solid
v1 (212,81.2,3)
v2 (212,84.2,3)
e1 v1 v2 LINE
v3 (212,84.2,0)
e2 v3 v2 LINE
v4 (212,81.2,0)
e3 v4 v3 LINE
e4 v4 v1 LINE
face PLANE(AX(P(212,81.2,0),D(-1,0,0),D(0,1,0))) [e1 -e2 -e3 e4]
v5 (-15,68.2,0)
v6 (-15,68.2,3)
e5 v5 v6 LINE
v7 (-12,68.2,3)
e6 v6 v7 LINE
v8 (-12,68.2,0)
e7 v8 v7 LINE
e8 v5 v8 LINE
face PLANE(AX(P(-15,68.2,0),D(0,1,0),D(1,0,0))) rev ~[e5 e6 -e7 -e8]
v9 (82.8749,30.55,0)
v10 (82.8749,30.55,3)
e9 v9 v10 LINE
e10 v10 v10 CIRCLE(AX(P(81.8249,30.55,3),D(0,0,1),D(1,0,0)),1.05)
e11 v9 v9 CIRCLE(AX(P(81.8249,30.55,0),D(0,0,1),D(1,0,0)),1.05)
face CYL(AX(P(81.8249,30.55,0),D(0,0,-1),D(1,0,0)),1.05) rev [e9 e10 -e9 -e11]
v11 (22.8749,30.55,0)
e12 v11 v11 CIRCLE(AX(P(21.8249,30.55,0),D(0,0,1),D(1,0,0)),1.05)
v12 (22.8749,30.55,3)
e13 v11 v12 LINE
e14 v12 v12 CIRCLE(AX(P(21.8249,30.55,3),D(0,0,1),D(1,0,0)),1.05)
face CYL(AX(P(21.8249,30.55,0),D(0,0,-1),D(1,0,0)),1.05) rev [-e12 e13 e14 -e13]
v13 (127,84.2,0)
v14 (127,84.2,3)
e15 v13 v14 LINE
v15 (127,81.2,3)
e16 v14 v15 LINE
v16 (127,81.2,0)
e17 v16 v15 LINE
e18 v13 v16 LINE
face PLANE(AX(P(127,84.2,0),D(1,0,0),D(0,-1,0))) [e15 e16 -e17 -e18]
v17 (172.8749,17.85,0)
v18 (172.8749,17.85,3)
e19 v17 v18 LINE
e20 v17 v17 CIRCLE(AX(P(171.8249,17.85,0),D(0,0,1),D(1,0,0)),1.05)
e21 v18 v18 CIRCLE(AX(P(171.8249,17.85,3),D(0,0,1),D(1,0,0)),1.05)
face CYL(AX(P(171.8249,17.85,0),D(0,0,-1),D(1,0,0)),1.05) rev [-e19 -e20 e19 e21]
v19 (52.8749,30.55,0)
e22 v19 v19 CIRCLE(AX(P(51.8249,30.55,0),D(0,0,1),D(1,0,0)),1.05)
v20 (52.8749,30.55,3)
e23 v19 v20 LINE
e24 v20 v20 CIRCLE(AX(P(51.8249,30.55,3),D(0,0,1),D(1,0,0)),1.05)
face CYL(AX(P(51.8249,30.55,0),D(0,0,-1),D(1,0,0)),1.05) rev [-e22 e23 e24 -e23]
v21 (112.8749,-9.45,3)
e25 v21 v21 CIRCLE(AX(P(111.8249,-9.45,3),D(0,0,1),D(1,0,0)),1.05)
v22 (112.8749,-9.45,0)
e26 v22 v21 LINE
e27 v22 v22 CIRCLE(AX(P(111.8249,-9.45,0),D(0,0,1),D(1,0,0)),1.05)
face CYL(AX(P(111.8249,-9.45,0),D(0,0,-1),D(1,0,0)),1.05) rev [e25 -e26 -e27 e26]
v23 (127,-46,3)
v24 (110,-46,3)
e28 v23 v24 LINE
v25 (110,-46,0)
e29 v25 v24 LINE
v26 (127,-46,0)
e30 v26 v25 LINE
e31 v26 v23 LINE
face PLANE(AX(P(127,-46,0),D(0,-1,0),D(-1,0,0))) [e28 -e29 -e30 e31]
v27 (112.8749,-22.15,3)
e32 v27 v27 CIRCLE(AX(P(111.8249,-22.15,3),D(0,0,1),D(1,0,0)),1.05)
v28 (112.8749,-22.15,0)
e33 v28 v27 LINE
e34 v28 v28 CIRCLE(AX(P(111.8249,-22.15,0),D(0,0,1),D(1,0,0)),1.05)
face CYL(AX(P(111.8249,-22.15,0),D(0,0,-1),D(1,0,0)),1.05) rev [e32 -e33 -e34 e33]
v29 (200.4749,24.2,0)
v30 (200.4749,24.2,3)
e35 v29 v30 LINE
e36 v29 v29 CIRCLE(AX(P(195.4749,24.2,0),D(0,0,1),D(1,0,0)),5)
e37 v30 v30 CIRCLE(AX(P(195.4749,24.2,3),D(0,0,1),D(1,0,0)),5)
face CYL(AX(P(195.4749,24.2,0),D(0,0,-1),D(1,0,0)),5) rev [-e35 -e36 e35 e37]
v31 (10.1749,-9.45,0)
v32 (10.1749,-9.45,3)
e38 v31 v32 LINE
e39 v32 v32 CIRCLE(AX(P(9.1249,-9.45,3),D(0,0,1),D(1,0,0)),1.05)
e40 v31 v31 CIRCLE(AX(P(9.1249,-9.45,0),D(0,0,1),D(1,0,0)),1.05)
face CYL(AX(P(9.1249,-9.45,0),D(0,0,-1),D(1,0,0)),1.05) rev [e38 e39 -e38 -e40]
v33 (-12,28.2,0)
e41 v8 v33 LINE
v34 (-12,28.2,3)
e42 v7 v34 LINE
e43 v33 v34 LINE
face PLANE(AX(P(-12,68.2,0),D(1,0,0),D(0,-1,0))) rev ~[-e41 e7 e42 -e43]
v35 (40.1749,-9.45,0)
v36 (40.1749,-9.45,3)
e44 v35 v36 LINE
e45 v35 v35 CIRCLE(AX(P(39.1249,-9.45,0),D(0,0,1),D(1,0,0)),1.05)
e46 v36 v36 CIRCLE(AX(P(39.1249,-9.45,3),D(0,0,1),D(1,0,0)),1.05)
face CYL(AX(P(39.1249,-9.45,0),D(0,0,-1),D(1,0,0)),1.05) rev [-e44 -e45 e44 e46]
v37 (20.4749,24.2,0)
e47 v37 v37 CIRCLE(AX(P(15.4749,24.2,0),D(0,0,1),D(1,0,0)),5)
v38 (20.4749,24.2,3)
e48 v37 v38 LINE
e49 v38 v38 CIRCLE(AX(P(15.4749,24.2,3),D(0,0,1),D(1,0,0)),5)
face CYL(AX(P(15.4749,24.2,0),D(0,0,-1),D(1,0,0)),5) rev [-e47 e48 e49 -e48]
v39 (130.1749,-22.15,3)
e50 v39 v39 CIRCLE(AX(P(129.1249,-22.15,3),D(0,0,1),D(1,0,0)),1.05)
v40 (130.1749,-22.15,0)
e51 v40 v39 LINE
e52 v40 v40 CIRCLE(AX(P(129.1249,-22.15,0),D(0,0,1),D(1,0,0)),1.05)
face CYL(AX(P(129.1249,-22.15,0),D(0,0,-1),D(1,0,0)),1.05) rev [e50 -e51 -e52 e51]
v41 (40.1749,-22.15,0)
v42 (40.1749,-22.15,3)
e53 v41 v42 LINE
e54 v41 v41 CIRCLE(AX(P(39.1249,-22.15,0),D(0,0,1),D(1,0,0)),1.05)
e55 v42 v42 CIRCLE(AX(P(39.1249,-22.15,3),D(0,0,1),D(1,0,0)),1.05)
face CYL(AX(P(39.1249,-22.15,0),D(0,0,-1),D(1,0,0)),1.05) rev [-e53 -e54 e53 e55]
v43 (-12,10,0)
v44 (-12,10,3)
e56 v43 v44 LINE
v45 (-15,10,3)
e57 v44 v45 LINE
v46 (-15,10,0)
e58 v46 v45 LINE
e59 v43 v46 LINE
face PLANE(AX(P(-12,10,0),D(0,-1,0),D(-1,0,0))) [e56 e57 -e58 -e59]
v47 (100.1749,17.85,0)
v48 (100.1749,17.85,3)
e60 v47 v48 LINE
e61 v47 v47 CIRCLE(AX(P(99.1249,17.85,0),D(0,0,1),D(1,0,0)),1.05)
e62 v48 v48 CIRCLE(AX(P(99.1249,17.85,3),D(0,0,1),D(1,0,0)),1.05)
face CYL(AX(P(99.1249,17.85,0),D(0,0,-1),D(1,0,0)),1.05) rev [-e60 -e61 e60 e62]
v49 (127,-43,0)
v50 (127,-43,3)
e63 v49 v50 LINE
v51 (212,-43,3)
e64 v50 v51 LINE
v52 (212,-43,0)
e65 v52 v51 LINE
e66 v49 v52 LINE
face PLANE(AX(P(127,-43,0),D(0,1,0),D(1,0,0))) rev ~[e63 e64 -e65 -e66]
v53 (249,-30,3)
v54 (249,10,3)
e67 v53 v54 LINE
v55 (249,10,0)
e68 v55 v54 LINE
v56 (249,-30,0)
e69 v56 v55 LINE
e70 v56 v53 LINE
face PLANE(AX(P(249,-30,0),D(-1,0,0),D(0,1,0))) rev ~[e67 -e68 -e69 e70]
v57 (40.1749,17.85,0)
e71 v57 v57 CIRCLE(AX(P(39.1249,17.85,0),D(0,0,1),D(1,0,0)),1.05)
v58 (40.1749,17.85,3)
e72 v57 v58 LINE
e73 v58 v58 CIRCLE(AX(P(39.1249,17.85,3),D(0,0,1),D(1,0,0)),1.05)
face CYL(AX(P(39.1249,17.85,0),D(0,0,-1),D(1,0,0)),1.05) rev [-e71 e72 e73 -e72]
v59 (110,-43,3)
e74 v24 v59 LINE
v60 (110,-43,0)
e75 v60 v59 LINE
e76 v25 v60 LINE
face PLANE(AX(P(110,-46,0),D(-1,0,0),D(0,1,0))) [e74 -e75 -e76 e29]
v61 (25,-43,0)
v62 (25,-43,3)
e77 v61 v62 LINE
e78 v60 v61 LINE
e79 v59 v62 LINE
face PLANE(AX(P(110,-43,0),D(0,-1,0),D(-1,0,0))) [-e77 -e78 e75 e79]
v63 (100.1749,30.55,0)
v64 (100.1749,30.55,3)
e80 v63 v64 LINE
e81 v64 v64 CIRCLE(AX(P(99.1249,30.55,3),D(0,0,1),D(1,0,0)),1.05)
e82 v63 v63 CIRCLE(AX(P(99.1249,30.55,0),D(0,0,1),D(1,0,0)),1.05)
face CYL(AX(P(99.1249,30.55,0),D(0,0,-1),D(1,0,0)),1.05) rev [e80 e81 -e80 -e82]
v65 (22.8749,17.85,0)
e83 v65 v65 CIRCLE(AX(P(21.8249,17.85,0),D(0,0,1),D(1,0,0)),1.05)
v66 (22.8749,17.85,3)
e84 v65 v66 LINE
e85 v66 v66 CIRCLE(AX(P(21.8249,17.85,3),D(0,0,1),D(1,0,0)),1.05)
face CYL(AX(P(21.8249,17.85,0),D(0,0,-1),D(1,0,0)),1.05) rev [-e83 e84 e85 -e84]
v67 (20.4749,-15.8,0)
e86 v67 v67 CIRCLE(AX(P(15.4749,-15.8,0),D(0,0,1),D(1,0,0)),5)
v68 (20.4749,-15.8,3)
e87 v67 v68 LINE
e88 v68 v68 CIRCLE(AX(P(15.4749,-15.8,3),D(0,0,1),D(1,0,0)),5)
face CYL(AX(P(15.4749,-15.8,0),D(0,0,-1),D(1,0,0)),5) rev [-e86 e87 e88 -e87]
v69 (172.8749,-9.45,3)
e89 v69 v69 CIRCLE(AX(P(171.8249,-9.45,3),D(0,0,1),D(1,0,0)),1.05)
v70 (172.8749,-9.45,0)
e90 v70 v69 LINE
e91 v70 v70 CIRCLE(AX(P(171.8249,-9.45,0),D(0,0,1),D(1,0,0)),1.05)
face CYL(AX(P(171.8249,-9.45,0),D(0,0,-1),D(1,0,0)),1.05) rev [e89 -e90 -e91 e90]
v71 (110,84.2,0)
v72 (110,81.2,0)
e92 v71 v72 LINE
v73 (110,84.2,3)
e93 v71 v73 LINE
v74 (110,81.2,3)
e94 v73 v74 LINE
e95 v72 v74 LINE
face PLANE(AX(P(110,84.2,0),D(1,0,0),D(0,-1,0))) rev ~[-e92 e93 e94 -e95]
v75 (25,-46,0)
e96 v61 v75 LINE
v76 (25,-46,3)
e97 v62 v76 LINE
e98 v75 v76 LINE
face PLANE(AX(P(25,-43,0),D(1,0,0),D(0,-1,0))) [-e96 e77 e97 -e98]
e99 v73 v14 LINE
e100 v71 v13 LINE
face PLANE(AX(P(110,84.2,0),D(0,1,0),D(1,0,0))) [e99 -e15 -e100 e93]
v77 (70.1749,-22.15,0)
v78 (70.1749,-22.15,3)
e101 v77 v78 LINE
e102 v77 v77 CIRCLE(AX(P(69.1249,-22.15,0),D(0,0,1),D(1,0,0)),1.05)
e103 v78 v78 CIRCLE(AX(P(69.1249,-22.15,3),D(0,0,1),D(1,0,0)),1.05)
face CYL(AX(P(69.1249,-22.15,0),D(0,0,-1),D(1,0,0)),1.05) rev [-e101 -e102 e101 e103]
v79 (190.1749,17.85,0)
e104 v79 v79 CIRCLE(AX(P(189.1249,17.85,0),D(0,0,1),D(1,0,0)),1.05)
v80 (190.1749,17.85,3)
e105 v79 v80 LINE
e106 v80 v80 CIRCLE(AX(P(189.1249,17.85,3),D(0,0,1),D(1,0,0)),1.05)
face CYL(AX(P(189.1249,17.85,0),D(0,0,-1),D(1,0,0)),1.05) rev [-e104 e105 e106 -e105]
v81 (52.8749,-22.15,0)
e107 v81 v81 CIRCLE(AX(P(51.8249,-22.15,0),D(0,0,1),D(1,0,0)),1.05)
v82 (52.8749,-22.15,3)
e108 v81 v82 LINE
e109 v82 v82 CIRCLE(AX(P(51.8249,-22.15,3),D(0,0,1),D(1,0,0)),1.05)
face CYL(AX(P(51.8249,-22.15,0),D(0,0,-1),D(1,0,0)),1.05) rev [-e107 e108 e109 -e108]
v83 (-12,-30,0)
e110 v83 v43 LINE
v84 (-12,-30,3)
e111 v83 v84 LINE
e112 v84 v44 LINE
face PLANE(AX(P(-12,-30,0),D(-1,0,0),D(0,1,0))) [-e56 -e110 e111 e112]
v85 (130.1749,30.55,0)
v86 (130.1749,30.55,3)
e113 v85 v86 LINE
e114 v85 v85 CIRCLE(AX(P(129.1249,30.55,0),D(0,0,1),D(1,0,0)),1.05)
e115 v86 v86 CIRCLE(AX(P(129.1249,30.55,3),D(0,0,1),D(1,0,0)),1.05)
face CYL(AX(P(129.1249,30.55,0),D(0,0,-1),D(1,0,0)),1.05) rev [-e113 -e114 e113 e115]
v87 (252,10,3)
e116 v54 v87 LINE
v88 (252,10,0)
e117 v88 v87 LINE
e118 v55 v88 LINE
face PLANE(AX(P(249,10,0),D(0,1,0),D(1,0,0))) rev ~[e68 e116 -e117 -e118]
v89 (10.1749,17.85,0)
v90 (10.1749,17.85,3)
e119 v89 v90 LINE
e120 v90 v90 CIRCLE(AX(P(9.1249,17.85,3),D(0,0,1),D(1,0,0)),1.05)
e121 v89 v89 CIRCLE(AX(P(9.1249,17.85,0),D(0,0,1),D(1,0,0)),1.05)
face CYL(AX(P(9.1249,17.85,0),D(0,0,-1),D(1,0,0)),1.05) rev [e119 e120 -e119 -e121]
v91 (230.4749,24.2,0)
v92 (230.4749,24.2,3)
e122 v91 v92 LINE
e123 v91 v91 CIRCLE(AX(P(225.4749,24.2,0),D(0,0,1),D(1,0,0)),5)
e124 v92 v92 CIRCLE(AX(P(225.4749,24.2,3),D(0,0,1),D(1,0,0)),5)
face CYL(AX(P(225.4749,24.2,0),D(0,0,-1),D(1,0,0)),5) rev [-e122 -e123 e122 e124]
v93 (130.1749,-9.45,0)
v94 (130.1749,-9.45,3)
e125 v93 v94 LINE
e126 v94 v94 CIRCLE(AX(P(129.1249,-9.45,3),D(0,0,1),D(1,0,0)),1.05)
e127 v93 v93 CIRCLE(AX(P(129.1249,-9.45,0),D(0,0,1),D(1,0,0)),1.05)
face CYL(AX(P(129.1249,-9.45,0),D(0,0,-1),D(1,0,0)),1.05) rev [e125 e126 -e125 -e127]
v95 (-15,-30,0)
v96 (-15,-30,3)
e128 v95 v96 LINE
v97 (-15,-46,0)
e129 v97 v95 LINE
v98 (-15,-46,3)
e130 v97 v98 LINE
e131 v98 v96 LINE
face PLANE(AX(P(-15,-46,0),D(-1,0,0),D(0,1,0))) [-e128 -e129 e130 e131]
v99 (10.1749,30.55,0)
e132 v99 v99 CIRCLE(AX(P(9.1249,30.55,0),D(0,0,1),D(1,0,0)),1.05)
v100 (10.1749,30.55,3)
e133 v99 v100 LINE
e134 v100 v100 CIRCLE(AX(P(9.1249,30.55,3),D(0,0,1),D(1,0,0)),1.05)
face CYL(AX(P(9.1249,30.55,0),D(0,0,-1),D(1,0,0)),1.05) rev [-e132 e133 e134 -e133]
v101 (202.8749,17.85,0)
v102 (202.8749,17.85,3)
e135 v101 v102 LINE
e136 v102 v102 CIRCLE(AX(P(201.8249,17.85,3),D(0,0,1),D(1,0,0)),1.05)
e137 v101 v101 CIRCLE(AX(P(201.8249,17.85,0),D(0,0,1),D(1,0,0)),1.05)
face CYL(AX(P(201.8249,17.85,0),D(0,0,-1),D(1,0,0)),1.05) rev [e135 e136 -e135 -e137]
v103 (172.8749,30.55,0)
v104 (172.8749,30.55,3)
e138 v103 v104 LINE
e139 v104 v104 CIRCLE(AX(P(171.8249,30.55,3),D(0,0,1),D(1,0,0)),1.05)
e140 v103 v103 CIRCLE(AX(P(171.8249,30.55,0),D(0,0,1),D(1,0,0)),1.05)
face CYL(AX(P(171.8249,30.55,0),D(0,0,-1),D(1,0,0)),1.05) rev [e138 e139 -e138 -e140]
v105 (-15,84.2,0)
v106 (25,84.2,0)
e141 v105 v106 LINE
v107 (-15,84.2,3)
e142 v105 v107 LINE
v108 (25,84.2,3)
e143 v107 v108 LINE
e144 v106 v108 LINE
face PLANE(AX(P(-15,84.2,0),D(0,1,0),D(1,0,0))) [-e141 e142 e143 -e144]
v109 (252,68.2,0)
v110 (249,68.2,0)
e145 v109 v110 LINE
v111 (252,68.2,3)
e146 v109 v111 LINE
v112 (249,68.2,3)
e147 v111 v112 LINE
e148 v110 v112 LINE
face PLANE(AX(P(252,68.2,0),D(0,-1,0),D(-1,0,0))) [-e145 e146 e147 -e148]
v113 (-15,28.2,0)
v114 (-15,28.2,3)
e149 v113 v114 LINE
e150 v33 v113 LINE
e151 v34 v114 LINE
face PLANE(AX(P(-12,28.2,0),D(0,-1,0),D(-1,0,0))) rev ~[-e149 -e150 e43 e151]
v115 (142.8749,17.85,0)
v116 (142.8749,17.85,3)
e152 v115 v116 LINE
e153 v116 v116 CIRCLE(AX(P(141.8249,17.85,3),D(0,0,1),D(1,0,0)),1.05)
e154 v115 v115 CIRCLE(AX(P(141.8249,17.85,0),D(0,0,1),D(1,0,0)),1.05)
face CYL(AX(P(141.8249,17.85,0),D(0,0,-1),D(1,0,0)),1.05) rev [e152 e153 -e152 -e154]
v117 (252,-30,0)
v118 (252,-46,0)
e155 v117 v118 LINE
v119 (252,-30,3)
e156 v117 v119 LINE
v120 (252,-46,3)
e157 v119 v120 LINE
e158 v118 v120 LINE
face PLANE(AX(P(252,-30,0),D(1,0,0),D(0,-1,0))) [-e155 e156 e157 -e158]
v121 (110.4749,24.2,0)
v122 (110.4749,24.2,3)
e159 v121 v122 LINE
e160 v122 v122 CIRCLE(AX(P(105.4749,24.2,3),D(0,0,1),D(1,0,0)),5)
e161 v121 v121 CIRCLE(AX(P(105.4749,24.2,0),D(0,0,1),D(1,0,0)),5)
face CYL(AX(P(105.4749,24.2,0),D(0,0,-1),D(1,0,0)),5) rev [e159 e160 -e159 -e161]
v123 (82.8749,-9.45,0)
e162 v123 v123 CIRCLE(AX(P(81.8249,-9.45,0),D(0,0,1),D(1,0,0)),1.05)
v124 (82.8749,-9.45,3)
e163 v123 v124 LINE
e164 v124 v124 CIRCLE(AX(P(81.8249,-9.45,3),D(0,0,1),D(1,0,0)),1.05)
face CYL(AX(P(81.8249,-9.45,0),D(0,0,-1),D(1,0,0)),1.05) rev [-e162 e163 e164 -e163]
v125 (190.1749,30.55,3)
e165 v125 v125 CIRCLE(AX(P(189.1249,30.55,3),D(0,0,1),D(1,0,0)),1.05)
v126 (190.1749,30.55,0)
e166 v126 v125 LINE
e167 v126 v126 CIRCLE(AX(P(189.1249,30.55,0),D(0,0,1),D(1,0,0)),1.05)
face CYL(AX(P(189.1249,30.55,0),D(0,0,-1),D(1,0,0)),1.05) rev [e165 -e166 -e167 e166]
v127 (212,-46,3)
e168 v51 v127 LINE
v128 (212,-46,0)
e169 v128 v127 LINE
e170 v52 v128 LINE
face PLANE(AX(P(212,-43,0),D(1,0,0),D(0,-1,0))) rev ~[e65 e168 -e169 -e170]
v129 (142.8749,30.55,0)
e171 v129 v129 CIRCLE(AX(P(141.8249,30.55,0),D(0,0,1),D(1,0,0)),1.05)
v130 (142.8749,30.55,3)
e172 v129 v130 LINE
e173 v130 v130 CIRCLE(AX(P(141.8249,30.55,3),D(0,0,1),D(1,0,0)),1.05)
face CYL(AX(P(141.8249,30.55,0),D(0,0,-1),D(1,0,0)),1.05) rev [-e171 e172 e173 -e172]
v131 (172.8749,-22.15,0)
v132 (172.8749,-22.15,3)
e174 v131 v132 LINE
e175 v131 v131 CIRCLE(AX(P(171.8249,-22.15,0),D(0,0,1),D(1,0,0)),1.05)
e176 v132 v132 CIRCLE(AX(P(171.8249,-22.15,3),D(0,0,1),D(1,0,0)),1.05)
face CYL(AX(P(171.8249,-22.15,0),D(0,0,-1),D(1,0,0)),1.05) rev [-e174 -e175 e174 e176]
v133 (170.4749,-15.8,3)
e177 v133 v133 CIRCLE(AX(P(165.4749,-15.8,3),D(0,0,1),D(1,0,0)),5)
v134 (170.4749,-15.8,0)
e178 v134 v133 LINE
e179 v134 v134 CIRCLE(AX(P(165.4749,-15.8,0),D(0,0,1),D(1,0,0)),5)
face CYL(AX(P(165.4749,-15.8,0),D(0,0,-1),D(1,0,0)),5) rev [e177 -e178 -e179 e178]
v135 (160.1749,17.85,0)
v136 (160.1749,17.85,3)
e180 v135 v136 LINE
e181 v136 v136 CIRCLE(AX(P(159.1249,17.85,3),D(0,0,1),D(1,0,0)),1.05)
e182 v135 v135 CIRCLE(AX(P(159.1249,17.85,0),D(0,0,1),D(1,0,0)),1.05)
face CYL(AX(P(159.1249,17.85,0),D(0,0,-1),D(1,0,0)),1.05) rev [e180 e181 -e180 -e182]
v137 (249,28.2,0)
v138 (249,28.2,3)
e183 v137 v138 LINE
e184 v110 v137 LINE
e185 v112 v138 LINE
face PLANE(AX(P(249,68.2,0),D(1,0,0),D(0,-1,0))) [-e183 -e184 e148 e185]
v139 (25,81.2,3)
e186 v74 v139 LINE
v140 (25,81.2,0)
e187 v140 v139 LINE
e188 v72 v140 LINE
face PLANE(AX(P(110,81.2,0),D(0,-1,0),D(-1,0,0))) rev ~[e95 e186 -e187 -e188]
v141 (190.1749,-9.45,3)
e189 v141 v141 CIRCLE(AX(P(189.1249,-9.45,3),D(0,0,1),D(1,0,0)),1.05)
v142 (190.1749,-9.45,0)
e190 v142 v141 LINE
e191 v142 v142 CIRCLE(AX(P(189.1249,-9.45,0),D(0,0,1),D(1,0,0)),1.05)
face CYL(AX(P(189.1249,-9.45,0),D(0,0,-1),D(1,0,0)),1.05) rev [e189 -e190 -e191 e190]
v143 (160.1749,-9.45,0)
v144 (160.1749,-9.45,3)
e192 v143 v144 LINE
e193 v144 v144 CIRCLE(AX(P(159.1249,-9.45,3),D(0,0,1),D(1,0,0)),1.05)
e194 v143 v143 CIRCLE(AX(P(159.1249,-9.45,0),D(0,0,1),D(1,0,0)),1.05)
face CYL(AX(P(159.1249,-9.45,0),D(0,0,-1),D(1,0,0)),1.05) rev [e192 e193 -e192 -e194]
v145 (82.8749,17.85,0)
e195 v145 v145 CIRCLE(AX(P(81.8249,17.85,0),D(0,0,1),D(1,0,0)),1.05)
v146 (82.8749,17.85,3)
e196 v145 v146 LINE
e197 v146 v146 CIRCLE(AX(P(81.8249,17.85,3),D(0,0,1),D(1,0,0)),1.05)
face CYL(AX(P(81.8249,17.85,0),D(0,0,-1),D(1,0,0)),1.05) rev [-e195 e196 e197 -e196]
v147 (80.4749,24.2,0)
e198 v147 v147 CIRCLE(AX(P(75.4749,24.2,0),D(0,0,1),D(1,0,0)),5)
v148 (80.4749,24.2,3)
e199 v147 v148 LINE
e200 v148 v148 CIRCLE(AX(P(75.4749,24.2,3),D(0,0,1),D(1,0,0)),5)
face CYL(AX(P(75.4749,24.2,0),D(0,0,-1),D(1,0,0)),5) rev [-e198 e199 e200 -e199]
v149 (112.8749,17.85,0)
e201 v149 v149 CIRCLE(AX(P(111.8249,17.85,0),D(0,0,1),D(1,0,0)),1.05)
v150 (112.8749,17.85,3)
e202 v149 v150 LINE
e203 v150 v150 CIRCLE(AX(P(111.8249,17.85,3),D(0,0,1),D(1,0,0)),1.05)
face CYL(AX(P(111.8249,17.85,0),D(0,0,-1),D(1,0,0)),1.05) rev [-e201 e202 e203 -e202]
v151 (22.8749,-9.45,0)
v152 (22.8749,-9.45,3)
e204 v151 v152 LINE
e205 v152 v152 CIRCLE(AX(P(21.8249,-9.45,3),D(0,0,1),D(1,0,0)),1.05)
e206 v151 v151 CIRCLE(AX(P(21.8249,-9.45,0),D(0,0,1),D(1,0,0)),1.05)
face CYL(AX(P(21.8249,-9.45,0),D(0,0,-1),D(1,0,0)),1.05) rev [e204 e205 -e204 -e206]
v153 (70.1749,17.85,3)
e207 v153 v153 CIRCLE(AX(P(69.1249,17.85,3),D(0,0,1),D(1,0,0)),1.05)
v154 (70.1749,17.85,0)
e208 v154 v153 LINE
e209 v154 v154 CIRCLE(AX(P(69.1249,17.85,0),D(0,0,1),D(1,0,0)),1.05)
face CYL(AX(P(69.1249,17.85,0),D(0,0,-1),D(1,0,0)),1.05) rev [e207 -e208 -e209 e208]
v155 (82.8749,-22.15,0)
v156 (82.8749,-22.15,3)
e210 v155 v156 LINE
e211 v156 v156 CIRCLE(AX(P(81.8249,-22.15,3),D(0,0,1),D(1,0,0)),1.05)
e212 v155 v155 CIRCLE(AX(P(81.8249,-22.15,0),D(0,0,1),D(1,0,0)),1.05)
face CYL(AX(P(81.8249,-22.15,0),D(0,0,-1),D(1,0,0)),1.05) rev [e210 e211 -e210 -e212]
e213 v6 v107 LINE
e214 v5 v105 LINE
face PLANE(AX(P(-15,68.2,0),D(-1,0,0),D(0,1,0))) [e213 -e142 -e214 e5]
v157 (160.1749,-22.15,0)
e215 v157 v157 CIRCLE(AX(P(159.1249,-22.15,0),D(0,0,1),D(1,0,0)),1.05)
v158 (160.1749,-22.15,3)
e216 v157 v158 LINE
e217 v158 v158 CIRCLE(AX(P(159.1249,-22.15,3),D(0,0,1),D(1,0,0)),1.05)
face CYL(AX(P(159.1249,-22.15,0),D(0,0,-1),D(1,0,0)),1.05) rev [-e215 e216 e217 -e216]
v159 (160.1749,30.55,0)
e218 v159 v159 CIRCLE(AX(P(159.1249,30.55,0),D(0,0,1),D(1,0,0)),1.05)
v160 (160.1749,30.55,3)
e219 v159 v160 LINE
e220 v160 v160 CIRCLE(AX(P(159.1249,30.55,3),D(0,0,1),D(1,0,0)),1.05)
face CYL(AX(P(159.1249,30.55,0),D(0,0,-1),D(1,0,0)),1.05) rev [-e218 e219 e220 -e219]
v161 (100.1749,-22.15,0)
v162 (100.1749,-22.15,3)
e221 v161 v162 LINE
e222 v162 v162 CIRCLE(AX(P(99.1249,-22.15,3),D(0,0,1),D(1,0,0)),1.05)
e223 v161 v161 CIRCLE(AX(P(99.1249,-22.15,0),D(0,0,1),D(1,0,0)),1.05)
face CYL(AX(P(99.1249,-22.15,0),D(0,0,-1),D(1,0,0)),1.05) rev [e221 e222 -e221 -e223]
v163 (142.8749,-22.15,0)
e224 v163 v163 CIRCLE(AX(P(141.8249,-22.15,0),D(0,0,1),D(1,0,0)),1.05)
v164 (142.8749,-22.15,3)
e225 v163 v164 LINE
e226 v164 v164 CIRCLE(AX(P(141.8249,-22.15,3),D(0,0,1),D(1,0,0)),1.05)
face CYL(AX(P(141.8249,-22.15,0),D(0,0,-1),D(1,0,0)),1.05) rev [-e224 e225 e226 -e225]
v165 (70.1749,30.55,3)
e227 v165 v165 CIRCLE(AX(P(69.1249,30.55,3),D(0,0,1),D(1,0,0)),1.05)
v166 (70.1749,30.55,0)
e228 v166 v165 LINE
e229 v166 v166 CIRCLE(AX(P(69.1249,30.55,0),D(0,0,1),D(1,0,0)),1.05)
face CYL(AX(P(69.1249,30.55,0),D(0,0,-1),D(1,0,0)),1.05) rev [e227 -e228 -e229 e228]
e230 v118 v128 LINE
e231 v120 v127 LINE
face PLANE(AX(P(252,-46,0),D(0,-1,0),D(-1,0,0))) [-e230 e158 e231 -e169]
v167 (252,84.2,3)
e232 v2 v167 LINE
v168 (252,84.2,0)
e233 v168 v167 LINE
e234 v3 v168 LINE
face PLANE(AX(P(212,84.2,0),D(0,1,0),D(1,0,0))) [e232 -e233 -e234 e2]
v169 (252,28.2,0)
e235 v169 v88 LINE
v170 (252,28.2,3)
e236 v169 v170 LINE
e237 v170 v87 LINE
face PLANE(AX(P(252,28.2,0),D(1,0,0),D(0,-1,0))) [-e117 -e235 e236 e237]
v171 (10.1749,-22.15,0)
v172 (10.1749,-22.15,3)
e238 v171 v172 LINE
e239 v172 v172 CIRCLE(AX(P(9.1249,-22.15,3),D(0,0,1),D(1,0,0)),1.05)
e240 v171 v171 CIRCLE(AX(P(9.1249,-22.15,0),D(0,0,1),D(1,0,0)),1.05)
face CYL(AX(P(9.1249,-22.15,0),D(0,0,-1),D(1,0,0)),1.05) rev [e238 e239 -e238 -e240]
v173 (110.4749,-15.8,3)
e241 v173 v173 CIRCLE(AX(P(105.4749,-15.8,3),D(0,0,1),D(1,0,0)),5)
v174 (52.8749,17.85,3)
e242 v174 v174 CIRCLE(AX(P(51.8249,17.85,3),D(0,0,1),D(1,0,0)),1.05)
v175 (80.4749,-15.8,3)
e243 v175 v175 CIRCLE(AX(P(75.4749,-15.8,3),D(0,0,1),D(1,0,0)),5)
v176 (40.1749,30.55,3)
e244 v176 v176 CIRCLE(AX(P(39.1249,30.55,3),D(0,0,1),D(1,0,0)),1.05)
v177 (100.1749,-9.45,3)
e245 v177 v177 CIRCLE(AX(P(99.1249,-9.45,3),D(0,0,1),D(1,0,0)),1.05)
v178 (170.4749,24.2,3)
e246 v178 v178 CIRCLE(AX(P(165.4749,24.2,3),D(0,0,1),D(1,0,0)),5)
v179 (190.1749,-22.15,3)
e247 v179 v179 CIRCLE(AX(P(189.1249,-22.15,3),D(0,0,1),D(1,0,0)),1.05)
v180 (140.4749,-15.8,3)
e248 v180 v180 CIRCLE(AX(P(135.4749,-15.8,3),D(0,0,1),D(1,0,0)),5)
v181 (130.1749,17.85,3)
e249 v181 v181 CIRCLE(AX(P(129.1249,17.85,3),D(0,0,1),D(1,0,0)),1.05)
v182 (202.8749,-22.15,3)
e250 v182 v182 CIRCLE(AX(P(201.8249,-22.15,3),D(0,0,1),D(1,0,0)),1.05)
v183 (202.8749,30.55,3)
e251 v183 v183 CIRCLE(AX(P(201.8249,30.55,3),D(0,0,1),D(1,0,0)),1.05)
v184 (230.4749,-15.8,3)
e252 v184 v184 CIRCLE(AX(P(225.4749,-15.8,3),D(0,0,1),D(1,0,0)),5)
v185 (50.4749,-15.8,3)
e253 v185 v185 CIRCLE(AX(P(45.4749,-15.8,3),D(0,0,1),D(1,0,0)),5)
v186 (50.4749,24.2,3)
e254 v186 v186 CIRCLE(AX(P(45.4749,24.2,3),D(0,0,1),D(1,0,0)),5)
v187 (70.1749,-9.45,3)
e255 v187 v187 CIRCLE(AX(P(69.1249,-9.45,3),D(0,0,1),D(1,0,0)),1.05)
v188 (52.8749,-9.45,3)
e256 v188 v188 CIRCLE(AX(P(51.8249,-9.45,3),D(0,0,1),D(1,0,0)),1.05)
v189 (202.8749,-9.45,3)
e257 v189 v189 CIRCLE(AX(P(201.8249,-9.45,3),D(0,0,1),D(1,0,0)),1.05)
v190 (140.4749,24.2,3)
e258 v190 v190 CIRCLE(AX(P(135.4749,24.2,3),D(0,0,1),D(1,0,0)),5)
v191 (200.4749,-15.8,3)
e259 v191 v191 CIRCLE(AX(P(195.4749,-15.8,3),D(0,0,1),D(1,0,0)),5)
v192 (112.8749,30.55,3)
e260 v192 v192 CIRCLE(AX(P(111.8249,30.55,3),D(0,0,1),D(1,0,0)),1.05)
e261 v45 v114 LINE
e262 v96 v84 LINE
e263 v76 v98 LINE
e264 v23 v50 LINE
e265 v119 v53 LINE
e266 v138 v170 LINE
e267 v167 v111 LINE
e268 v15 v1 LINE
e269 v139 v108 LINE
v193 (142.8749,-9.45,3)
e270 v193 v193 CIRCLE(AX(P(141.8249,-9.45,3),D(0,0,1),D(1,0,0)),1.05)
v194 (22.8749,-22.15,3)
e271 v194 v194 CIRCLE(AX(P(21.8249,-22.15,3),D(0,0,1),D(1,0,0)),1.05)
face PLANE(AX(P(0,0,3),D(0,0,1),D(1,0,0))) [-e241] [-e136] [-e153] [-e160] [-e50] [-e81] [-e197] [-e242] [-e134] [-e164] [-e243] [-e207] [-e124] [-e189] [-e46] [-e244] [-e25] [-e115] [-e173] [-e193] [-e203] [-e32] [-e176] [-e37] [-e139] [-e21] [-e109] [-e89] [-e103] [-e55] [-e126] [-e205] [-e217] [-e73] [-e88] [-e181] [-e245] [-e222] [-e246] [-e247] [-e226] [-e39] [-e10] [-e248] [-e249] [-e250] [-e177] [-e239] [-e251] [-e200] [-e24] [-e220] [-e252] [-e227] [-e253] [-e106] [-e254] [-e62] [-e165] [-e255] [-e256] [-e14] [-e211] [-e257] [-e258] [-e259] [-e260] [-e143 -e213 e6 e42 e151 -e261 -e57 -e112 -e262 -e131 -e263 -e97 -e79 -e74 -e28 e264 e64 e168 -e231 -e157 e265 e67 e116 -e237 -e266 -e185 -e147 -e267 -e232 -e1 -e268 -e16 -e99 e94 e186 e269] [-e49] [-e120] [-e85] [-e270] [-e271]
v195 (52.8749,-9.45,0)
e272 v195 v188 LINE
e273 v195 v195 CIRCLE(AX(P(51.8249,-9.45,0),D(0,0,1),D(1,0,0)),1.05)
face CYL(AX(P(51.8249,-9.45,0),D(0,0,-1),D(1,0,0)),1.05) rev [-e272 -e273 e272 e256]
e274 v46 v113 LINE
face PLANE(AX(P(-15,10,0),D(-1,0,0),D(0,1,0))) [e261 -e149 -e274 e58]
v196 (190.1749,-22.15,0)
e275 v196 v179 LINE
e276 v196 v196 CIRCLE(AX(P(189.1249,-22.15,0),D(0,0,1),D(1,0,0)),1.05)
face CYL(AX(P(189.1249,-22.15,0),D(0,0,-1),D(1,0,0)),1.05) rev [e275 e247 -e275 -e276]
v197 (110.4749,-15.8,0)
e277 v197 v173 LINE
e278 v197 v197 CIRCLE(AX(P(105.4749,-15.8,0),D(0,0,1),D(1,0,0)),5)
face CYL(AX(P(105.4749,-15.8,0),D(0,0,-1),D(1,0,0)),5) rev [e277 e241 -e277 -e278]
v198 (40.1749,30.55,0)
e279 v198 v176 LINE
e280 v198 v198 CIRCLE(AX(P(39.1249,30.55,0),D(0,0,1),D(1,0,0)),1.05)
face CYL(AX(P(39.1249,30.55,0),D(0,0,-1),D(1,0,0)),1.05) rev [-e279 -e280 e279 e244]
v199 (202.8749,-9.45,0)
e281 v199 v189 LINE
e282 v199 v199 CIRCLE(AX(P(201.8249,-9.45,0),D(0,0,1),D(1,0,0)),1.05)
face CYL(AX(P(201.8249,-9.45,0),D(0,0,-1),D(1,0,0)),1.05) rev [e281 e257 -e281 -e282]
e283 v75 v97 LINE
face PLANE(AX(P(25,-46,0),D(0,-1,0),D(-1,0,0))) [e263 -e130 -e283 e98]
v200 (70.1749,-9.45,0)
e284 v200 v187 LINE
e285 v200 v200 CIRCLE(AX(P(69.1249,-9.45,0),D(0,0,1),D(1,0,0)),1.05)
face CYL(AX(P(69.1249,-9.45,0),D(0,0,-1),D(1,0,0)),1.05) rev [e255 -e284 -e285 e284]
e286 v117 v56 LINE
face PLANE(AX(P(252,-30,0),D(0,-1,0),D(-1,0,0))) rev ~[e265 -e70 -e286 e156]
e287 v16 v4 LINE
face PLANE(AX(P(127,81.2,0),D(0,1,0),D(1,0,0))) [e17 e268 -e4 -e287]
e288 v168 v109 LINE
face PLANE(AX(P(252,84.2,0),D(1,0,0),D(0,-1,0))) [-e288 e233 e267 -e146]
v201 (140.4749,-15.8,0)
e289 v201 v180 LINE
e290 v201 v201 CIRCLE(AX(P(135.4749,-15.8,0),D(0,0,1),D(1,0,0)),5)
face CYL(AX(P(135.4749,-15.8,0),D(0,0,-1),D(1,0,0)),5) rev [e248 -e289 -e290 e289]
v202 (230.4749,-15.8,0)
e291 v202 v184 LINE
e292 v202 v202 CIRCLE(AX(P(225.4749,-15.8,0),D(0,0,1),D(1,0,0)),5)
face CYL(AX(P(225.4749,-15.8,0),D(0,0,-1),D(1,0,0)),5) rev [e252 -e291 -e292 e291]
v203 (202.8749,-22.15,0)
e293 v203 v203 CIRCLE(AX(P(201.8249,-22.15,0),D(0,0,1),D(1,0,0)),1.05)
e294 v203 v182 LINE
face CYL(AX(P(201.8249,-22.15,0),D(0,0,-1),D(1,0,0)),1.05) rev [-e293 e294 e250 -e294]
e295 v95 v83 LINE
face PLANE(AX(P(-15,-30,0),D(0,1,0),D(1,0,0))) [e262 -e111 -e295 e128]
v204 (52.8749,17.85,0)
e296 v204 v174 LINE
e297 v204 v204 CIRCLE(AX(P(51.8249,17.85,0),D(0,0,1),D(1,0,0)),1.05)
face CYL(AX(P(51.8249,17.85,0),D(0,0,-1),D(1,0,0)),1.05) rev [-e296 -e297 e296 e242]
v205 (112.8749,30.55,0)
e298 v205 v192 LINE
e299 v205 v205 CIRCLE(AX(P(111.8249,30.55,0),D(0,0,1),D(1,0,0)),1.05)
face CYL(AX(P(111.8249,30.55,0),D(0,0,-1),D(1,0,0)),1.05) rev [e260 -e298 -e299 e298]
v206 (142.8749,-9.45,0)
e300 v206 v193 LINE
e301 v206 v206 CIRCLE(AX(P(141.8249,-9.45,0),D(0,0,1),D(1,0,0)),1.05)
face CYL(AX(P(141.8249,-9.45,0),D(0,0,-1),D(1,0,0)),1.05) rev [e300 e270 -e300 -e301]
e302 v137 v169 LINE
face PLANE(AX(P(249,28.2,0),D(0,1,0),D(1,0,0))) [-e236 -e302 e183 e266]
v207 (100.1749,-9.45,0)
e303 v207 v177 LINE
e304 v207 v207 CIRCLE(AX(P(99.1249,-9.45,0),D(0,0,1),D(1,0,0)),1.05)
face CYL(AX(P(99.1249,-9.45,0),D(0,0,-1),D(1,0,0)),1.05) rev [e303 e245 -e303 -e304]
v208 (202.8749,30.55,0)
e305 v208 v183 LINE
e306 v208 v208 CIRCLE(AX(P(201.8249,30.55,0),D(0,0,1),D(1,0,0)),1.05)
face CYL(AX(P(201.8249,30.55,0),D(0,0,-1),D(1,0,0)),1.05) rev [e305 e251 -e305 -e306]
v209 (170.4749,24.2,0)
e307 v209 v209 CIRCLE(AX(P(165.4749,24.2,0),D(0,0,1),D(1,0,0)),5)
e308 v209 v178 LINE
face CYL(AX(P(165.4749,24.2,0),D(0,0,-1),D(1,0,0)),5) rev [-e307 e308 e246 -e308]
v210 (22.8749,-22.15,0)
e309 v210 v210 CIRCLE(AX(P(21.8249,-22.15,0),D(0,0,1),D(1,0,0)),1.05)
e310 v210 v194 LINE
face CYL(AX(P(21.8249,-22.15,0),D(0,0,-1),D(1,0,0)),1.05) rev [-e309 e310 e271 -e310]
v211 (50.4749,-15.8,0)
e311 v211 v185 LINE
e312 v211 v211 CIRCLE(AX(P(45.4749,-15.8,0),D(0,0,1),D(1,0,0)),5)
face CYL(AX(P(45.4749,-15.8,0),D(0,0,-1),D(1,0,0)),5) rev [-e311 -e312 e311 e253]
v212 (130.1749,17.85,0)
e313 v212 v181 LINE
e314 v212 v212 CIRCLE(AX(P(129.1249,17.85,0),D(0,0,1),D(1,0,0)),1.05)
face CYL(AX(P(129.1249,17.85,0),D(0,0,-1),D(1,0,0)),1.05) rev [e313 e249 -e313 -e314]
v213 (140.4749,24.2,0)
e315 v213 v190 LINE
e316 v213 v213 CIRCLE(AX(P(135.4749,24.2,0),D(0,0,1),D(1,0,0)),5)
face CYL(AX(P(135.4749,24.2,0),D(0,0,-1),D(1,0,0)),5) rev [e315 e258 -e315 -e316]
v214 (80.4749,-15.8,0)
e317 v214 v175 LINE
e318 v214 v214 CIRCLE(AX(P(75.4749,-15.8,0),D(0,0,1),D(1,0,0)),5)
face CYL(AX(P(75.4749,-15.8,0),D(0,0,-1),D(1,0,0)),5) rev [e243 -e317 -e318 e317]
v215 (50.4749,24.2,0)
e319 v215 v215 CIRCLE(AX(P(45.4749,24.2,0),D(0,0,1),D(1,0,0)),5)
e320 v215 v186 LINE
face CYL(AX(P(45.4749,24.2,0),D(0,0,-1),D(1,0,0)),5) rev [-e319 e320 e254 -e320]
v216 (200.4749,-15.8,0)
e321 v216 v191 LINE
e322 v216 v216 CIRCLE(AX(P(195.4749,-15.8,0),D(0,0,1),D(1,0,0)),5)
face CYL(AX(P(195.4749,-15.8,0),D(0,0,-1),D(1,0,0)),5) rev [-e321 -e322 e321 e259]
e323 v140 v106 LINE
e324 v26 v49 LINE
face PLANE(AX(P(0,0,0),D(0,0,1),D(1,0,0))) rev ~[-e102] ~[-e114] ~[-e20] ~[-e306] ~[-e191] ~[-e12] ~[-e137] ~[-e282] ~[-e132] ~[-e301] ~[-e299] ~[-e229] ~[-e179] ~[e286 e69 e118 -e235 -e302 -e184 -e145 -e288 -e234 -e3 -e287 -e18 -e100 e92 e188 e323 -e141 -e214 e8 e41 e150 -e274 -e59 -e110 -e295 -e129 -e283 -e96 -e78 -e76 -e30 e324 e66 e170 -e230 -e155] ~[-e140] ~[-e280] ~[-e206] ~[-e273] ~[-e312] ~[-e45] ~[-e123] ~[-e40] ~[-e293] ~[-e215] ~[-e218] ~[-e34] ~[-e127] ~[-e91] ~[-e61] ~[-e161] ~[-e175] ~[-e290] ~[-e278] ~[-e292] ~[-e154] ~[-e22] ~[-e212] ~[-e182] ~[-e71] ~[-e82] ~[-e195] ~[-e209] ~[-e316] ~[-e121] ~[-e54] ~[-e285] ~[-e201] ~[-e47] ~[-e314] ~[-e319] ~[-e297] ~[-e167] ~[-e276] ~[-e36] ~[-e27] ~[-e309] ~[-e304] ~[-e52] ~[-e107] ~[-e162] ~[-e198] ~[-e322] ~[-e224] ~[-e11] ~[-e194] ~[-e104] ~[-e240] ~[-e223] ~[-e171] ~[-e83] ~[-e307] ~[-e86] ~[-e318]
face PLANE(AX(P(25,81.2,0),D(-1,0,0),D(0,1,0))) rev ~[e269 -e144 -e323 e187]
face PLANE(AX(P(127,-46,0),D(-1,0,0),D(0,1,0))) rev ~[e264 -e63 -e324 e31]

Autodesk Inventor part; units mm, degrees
ref_plane "YZ Plane" through (0, 0, 0) normal (1, 0, 0) x (0, 1, 0)
ref_plane "XZ Plane" through (0, 0, 0) normal (0, 1, 0) x (-1, 0, 0)
ref_plane "XY Plane" through (0, 0, 0) normal (0, 0, 1) x (1, 0, 0)
sketch "Sketch1" plane through (0, 0, 0) normal (0, 0, 1) x (1, 0, 0)
  line L0 (-15, 84.2) -> (252, 84.2)
  line L1 (252, 84.2) -> (252, -46)
  line L2 (252, -46) -> (-15, -46)
  line L3 (-15, -46) -> (-15, 84.2)
  line L4 (118.5, 84.2) -> (118.5, -46) construction
  line L5 (25, 84.2) -> (110, 84.2)
  line L6 (110, 84.2) -> (110, 81.2)
  line L7 (110, 81.2) -> (25, 81.2)
  line L8 (25, 81.2) -> (25, 84.2)
  line L9 (212, 84.2) -> (127, 84.2)
  line L10 (127, 84.2) -> (127, 81.2)
  line L11 (127, 81.2) -> (212, 81.2)
  line L12 (212, 81.2) -> (212, 84.2)
  line L13 (25, -46) -> (110, -46)
  line L14 (110, -46) -> (110, -43)
  line L15 (110, -43) -> (25, -43)
  line L16 (25, -43) -> (25, -46)
  line L17 (212, -43) -> (212, -46)
  line L18 (127, -46) -> (127, -43)
  line L19 (127, -43) -> (212, -43)
  line L20 (212, -46) -> (127, -46)
  line L21 (-15, 24.2) -> (252, 24.2) construction
  circle A0 centre (15.4749, 24.2) radius 5
  line L22 (6.5749, 15.3) -> (24.3749, 15.3) construction
  line L23 (24.3749, 15.3) -> (24.3749, 33.1) construction
  line L24 (24.3749, 33.1) -> (6.5749, 33.1) construction
  line L25 (6.5749, 33.1) -> (6.5749, 15.3) construction
  circle A1 centre (9.1249, 30.55) radius 1.05
  line L26 (9.1249, 30.55) -> (9.1249, 31.6) construction
  line L27 (9.1249, 30.55) -> (8.0749, 30.55) construction
  line L28 (15.4749, 33.1) -> (15.4749, 15.3) construction
  line L29 (6.5749, 24.2) -> (24.3749, 24.2) construction
  circle A2 centre (21.8249, 30.55) radius 1.05
  line L30 (21.8249, 30.55) -> (21.8249, 31.6) construction
  line L31 (21.8249, 30.55) -> (22.8749, 30.55) construction
  circle A3 centre (9.1249, 17.85) radius 1.05
  line L32 (9.1249, 17.85) -> (9.1249, 16.8) construction
  line L33 (9.1249, 17.85) -> (8.0749, 17.85) construction
  line L34 (21.8249, 17.85) -> (21.8249, 16.8) construction
  line L35 (21.8249, 17.85) -> (22.8749, 17.85) construction
  circle A4 centre (21.8249, 17.85) radius 1.05
  circle A5 centre (45.4749, 24.2) radius 5
  circle A6 centre (75.4749, 24.2) radius 5
  circle A7 centre (105.4749, 24.2) radius 5
  circle A8 centre (135.4749, 24.2) radius 5
  circle A9 centre (165.4749, 24.2) radius 5
  circle A10 centre (195.4749, 24.2) radius 5
  circle A11 centre (225.4749, 24.2) radius 5
  circle A12 centre (15.4749, -15.8) radius 5
  circle A13 centre (45.4749, -15.8) radius 5
  circle A14 centre (75.4749, -15.8) radius 5
  circle A15 centre (105.4749, -15.8) radius 5
  circle A16 centre (135.4749, -15.8) radius 5
  circle A17 centre (165.4749, -15.8) radius 5
  circle A18 centre (195.4749, -15.8) radius 5
  circle A19 centre (225.4749, -15.8) radius 5
  circle A20 centre (9.1249, -9.45) radius 1.05
  circle A21 centre (21.8249, -9.45) radius 1.05
  circle A22 centre (21.8249, -22.15) radius 1.05
  circle A23 centre (9.1249, -22.15) radius 1.05
  circle A24 centre (39.1249, 30.55) radius 1.05
  circle A25 centre (51.8249, 30.55) radius 1.05
  circle A26 centre (51.8249, 17.85) radius 1.05
  circle A27 centre (39.1249, 17.85) radius 1.05
  circle A28 centre (39.1249, -9.45) radius 1.05
  circle A29 centre (51.8249, -9.45) radius 1.05
  circle A30 centre (51.8249, -22.15) radius 1.05
  circle A31 centre (39.1249, -22.15) radius 1.05
  circle A32 centre (69.1249, 30.55) radius 1.05
  circle A33 centre (81.8249, 30.55) radius 1.05
  circle A34 centre (81.8249, 17.85) radius 1.05
  circle A35 centre (69.1249, 17.85) radius 1.05
  circle A36 centre (69.1249, -9.45) radius 1.05
  circle A37 centre (81.8249, -9.45) radius 1.05
  circle A38 centre (81.8249, -22.15) radius 1.05
  circle A39 centre (69.1249, -22.15) radius 1.05
  circle A40 centre (99.1249, 30.55) radius 1.05
  circle A41 centre (111.8249, 30.55) radius 1.05
  circle A42 centre (111.8249, 17.85) radius 1.05
  circle A43 centre (99.1249, 17.85) radius 1.05
  circle A44 centre (99.1249, -9.45) radius 1.05
  circle A45 centre (111.8249, -9.45) radius 1.05
  circle A46 centre (111.8249, -22.15) radius 1.05
  circle A47 centre (99.1249, -22.15) radius 1.05
  circle A48 centre (129.1249, 30.55) radius 1.05
  circle A49 centre (141.8249, 30.55) radius 1.05
  circle A50 centre (141.8249, 17.85) radius 1.05
  circle A51 centre (129.1249, 17.85) radius 1.05
  circle A52 centre (129.1249, -9.45) radius 1.05
  circle A53 centre (141.8249, -9.45) radius 1.05
  circle A54 centre (141.8249, -22.15) radius 1.05
  circle A55 centre (129.1249, -22.15) radius 1.05
  circle A56 centre (159.1249, 30.55) radius 1.05
  circle A57 centre (171.8249, 30.55) radius 1.05
  circle A58 centre (171.8249, 17.85) radius 1.05
  circle A59 centre (159.1249, 17.85) radius 1.05
  circle A60 centre (159.1249, -9.45) radius 1.05
  circle A61 centre (171.8249, -9.45) radius 1.05
  circle A62 centre (171.8249, -22.15) radius 1.05
  circle A63 centre (159.1249, -22.15) radius 1.05
  circle A64 centre (189.1249, 30.55) radius 1.05
  circle A65 centre (201.8249, 30.55) radius 1.05
  circle A66 centre (201.8249, 17.85) radius 1.05
  circle A67 centre (189.1249, 17.85) radius 1.05
  circle A68 centre (189.1249, -9.45) radius 1.05
  circle A69 centre (201.8249, -9.45) radius 1.05
  circle A70 centre (201.8249, -22.15) radius 1.05
  circle A71 centre (189.1249, -22.15) radius 1.05
  line L36 (252, 68.2) -> (249, 68.2)
  line L37 (249, 68.2) -> (249, 28.2)
  line L38 (249, 28.2) -> (252, 28.2)
  line L39 (252, 28.2) -> (252, 68.2)
  line L40 (-15, 19.1) -> (252, 19.1) construction
  line L41 (252, -30) -> (249, -30)
  line L42 (249, -30) -> (249, 10)
  line L43 (249, 10) -> (252, 10)
  line L44 (252, 10) -> (252, -30)
  line L45 (-15, 68.2) -> (-12, 68.2)
  line L46 (-12, 68.2) -> (-12, 28.2)
  line L47 (-12, 28.2) -> (-15, 28.2)
  line L48 (-15, 28.2) -> (-15, 68.2)
  line L49 (-15, -30) -> (-12, -30)
  line L50 (-12, -30) -> (-12, 10)
  line L51 (-15, 10) -> (-15, -30)
  line L52 (-12, 10) -> (-15, 10)
  point P0 (0, 0)
  point P1 (-15, 77.349)
  point P2 (9.1249, -8.4)
  point P3 (8.0749, -9.45)
  point P4 (21.8249, -8.4)
  point P5 (22.8749, -9.45)
  point P6 (21.8249, -23.2)
  point P7 (22.8749, -22.15)
  point P8 (9.1249, -23.2)
  point P9 (8.0749, -22.15)
  point P10 (39.1249, 31.6)
  point P11 (38.0749, 30.55)
  point P12 (51.8249, 31.6)
  point P13 (52.8749, 30.55)
  point P14 (51.8249, 16.8)
  point P15 (52.8749, 17.85)
  point P16 (39.1249, 16.8)
  point P17 (38.0749, 17.85)
  point P18 (39.1249, -8.4)
  point P19 (38.0749, -9.45)
  point P20 (51.8249, -8.4)
  point P21 (52.8749, -9.45)
  point P22 (51.8249, -23.2)
  point P23 (52.8749, -22.15)
  point P24 (39.1249, -23.2)
  point P25 (38.0749, -22.15)
  point P26 (69.1249, 31.6)
  point P27 (68.0749, 30.55)
  point P28 (81.8249, 31.6)
  point P29 (82.8749, 30.55)
  point P30 (81.8249, 16.8)
  point P31 (82.8749, 17.85)
  point P32 (69.1249, 16.8)
  point P33 (68.0749, 17.85)
  point P34 (69.1249, -8.4)
  point P35 (68.0749, -9.45)
  point P36 (81.8249, -8.4)
  point P37 (82.8749, -9.45)
  point P38 (81.8249, -23.2)
  point P39 (82.8749, -22.15)
  point P40 (69.1249, -23.2)
  point P41 (68.0749, -22.15)
  point P42 (99.1249, 31.6)
  point P43 (98.0749, 30.55)
  point P44 (111.8249, 31.6)
  point P45 (112.8749, 30.55)
  point P46 (111.8249, 16.8)
  point P47 (112.8749, 17.85)
  point P48 (99.1249, 16.8)
  point P49 (98.0749, 17.85)
  point P50 (99.1249, -8.4)
  point P51 (98.0749, -9.45)
  point P52 (111.8249, -8.4)
  point P53 (112.8749, -9.45)
  point P54 (111.8249, -23.2)
  point P55 (112.8749, -22.15)
  point P56 (99.1249, -23.2)
  point P57 (98.0749, -22.15)
  point P58 (129.1249, 31.6)
  point P59 (128.0749, 30.55)
  point P60 (141.8249, 31.6)
  point P61 (142.8749, 30.55)
  point P62 (141.8249, 16.8)
  point P63 (142.8749, 17.85)
  point P64 (129.1249, 16.8)
  point P65 (128.0749, 17.85)
  point P66 (129.1249, -8.4)
  point P67 (128.0749, -9.45)
  point P68 (141.8249, -8.4)
  point P69 (142.8749, -9.45)
  point P70 (141.8249, -23.2)
  point P71 (142.8749, -22.15)
  point P72 (129.1249, -23.2)
  point P73 (128.0749, -22.15)
  point P74 (159.1249, 31.6)
  point P75 (158.0749, 30.55)
  point P76 (171.8249, 31.6)
  point P77 (172.8749, 30.55)
  point P78 (171.8249, 16.8)
  point P79 (172.8749, 17.85)
  point P80 (159.1249, 16.8)
  point P81 (158.0749, 17.85)
  point P82 (159.1249, -8.4)
  point P83 (158.0749, -9.45)
  point P84 (171.8249, -8.4)
  point P85 (172.8749, -9.45)
  point P86 (171.8249, -23.2)
  point P87 (172.8749, -22.15)
  point P88 (159.1249, -23.2)
  point P89 (158.0749, -22.15)
  point P90 (189.1249, 31.6)
  point P91 (188.0749, 30.55)
  point P92 (201.8249, 31.6)
  point P93 (202.8749, 30.55)
  point P94 (201.8249, 16.8)
  point P95 (202.8749, 17.85)
  point P96 (189.1249, 16.8)
  point P97 (188.0749, 17.85)
  point P98 (189.1249, -8.4)
  point P99 (188.0749, -9.45)
  point P100 (201.8249, -8.4)
  point P101 (202.8749, -9.45)
  point P102 (201.8249, -23.2)
  point P103 (202.8749, -22.15)
  point P104 (189.1249, -23.2)
  point P105 (188.0749, -22.15)
  point P106 (11.5251, 24.2)
  point P107 (11.5251, -15.8)
  dimension "d41" = 3
  dimension "d42" = 40
  dimension "d43" = 85
  dimension "d46" = 10
  dimension "d47" = 17.8
  dimension "d48" = 17.8
  dimension "d50" = 1.5
  dimension "d51" = 2.1
  dimension "d52" = 1.5
  dimension "d55" = 30
  dimension "d58" = 40
  dimension "d63" = 40
  dimension "d66" = 30
  dimension "d71" = 267
  dimension "d72" = 130.2
  dimension "d73" = 60
  dimension "d74" = 124.2
  dimension "d76" = 124.2
  dimension "d77" = 3
  dimension "d78" = 40
  dimension "d79" = 16
extrude "Extrusion3" add sketch "Sketch1" along normal blind 3 contours L0 L8 L7 L6 L10 L11 L12 L1 L36 L37 L38 L43 L42 L41 L2 L17 L19 L18 L14 L15 L16 L3 L49 L50 L52 L47 L46 L45
properties part number "case_back"
